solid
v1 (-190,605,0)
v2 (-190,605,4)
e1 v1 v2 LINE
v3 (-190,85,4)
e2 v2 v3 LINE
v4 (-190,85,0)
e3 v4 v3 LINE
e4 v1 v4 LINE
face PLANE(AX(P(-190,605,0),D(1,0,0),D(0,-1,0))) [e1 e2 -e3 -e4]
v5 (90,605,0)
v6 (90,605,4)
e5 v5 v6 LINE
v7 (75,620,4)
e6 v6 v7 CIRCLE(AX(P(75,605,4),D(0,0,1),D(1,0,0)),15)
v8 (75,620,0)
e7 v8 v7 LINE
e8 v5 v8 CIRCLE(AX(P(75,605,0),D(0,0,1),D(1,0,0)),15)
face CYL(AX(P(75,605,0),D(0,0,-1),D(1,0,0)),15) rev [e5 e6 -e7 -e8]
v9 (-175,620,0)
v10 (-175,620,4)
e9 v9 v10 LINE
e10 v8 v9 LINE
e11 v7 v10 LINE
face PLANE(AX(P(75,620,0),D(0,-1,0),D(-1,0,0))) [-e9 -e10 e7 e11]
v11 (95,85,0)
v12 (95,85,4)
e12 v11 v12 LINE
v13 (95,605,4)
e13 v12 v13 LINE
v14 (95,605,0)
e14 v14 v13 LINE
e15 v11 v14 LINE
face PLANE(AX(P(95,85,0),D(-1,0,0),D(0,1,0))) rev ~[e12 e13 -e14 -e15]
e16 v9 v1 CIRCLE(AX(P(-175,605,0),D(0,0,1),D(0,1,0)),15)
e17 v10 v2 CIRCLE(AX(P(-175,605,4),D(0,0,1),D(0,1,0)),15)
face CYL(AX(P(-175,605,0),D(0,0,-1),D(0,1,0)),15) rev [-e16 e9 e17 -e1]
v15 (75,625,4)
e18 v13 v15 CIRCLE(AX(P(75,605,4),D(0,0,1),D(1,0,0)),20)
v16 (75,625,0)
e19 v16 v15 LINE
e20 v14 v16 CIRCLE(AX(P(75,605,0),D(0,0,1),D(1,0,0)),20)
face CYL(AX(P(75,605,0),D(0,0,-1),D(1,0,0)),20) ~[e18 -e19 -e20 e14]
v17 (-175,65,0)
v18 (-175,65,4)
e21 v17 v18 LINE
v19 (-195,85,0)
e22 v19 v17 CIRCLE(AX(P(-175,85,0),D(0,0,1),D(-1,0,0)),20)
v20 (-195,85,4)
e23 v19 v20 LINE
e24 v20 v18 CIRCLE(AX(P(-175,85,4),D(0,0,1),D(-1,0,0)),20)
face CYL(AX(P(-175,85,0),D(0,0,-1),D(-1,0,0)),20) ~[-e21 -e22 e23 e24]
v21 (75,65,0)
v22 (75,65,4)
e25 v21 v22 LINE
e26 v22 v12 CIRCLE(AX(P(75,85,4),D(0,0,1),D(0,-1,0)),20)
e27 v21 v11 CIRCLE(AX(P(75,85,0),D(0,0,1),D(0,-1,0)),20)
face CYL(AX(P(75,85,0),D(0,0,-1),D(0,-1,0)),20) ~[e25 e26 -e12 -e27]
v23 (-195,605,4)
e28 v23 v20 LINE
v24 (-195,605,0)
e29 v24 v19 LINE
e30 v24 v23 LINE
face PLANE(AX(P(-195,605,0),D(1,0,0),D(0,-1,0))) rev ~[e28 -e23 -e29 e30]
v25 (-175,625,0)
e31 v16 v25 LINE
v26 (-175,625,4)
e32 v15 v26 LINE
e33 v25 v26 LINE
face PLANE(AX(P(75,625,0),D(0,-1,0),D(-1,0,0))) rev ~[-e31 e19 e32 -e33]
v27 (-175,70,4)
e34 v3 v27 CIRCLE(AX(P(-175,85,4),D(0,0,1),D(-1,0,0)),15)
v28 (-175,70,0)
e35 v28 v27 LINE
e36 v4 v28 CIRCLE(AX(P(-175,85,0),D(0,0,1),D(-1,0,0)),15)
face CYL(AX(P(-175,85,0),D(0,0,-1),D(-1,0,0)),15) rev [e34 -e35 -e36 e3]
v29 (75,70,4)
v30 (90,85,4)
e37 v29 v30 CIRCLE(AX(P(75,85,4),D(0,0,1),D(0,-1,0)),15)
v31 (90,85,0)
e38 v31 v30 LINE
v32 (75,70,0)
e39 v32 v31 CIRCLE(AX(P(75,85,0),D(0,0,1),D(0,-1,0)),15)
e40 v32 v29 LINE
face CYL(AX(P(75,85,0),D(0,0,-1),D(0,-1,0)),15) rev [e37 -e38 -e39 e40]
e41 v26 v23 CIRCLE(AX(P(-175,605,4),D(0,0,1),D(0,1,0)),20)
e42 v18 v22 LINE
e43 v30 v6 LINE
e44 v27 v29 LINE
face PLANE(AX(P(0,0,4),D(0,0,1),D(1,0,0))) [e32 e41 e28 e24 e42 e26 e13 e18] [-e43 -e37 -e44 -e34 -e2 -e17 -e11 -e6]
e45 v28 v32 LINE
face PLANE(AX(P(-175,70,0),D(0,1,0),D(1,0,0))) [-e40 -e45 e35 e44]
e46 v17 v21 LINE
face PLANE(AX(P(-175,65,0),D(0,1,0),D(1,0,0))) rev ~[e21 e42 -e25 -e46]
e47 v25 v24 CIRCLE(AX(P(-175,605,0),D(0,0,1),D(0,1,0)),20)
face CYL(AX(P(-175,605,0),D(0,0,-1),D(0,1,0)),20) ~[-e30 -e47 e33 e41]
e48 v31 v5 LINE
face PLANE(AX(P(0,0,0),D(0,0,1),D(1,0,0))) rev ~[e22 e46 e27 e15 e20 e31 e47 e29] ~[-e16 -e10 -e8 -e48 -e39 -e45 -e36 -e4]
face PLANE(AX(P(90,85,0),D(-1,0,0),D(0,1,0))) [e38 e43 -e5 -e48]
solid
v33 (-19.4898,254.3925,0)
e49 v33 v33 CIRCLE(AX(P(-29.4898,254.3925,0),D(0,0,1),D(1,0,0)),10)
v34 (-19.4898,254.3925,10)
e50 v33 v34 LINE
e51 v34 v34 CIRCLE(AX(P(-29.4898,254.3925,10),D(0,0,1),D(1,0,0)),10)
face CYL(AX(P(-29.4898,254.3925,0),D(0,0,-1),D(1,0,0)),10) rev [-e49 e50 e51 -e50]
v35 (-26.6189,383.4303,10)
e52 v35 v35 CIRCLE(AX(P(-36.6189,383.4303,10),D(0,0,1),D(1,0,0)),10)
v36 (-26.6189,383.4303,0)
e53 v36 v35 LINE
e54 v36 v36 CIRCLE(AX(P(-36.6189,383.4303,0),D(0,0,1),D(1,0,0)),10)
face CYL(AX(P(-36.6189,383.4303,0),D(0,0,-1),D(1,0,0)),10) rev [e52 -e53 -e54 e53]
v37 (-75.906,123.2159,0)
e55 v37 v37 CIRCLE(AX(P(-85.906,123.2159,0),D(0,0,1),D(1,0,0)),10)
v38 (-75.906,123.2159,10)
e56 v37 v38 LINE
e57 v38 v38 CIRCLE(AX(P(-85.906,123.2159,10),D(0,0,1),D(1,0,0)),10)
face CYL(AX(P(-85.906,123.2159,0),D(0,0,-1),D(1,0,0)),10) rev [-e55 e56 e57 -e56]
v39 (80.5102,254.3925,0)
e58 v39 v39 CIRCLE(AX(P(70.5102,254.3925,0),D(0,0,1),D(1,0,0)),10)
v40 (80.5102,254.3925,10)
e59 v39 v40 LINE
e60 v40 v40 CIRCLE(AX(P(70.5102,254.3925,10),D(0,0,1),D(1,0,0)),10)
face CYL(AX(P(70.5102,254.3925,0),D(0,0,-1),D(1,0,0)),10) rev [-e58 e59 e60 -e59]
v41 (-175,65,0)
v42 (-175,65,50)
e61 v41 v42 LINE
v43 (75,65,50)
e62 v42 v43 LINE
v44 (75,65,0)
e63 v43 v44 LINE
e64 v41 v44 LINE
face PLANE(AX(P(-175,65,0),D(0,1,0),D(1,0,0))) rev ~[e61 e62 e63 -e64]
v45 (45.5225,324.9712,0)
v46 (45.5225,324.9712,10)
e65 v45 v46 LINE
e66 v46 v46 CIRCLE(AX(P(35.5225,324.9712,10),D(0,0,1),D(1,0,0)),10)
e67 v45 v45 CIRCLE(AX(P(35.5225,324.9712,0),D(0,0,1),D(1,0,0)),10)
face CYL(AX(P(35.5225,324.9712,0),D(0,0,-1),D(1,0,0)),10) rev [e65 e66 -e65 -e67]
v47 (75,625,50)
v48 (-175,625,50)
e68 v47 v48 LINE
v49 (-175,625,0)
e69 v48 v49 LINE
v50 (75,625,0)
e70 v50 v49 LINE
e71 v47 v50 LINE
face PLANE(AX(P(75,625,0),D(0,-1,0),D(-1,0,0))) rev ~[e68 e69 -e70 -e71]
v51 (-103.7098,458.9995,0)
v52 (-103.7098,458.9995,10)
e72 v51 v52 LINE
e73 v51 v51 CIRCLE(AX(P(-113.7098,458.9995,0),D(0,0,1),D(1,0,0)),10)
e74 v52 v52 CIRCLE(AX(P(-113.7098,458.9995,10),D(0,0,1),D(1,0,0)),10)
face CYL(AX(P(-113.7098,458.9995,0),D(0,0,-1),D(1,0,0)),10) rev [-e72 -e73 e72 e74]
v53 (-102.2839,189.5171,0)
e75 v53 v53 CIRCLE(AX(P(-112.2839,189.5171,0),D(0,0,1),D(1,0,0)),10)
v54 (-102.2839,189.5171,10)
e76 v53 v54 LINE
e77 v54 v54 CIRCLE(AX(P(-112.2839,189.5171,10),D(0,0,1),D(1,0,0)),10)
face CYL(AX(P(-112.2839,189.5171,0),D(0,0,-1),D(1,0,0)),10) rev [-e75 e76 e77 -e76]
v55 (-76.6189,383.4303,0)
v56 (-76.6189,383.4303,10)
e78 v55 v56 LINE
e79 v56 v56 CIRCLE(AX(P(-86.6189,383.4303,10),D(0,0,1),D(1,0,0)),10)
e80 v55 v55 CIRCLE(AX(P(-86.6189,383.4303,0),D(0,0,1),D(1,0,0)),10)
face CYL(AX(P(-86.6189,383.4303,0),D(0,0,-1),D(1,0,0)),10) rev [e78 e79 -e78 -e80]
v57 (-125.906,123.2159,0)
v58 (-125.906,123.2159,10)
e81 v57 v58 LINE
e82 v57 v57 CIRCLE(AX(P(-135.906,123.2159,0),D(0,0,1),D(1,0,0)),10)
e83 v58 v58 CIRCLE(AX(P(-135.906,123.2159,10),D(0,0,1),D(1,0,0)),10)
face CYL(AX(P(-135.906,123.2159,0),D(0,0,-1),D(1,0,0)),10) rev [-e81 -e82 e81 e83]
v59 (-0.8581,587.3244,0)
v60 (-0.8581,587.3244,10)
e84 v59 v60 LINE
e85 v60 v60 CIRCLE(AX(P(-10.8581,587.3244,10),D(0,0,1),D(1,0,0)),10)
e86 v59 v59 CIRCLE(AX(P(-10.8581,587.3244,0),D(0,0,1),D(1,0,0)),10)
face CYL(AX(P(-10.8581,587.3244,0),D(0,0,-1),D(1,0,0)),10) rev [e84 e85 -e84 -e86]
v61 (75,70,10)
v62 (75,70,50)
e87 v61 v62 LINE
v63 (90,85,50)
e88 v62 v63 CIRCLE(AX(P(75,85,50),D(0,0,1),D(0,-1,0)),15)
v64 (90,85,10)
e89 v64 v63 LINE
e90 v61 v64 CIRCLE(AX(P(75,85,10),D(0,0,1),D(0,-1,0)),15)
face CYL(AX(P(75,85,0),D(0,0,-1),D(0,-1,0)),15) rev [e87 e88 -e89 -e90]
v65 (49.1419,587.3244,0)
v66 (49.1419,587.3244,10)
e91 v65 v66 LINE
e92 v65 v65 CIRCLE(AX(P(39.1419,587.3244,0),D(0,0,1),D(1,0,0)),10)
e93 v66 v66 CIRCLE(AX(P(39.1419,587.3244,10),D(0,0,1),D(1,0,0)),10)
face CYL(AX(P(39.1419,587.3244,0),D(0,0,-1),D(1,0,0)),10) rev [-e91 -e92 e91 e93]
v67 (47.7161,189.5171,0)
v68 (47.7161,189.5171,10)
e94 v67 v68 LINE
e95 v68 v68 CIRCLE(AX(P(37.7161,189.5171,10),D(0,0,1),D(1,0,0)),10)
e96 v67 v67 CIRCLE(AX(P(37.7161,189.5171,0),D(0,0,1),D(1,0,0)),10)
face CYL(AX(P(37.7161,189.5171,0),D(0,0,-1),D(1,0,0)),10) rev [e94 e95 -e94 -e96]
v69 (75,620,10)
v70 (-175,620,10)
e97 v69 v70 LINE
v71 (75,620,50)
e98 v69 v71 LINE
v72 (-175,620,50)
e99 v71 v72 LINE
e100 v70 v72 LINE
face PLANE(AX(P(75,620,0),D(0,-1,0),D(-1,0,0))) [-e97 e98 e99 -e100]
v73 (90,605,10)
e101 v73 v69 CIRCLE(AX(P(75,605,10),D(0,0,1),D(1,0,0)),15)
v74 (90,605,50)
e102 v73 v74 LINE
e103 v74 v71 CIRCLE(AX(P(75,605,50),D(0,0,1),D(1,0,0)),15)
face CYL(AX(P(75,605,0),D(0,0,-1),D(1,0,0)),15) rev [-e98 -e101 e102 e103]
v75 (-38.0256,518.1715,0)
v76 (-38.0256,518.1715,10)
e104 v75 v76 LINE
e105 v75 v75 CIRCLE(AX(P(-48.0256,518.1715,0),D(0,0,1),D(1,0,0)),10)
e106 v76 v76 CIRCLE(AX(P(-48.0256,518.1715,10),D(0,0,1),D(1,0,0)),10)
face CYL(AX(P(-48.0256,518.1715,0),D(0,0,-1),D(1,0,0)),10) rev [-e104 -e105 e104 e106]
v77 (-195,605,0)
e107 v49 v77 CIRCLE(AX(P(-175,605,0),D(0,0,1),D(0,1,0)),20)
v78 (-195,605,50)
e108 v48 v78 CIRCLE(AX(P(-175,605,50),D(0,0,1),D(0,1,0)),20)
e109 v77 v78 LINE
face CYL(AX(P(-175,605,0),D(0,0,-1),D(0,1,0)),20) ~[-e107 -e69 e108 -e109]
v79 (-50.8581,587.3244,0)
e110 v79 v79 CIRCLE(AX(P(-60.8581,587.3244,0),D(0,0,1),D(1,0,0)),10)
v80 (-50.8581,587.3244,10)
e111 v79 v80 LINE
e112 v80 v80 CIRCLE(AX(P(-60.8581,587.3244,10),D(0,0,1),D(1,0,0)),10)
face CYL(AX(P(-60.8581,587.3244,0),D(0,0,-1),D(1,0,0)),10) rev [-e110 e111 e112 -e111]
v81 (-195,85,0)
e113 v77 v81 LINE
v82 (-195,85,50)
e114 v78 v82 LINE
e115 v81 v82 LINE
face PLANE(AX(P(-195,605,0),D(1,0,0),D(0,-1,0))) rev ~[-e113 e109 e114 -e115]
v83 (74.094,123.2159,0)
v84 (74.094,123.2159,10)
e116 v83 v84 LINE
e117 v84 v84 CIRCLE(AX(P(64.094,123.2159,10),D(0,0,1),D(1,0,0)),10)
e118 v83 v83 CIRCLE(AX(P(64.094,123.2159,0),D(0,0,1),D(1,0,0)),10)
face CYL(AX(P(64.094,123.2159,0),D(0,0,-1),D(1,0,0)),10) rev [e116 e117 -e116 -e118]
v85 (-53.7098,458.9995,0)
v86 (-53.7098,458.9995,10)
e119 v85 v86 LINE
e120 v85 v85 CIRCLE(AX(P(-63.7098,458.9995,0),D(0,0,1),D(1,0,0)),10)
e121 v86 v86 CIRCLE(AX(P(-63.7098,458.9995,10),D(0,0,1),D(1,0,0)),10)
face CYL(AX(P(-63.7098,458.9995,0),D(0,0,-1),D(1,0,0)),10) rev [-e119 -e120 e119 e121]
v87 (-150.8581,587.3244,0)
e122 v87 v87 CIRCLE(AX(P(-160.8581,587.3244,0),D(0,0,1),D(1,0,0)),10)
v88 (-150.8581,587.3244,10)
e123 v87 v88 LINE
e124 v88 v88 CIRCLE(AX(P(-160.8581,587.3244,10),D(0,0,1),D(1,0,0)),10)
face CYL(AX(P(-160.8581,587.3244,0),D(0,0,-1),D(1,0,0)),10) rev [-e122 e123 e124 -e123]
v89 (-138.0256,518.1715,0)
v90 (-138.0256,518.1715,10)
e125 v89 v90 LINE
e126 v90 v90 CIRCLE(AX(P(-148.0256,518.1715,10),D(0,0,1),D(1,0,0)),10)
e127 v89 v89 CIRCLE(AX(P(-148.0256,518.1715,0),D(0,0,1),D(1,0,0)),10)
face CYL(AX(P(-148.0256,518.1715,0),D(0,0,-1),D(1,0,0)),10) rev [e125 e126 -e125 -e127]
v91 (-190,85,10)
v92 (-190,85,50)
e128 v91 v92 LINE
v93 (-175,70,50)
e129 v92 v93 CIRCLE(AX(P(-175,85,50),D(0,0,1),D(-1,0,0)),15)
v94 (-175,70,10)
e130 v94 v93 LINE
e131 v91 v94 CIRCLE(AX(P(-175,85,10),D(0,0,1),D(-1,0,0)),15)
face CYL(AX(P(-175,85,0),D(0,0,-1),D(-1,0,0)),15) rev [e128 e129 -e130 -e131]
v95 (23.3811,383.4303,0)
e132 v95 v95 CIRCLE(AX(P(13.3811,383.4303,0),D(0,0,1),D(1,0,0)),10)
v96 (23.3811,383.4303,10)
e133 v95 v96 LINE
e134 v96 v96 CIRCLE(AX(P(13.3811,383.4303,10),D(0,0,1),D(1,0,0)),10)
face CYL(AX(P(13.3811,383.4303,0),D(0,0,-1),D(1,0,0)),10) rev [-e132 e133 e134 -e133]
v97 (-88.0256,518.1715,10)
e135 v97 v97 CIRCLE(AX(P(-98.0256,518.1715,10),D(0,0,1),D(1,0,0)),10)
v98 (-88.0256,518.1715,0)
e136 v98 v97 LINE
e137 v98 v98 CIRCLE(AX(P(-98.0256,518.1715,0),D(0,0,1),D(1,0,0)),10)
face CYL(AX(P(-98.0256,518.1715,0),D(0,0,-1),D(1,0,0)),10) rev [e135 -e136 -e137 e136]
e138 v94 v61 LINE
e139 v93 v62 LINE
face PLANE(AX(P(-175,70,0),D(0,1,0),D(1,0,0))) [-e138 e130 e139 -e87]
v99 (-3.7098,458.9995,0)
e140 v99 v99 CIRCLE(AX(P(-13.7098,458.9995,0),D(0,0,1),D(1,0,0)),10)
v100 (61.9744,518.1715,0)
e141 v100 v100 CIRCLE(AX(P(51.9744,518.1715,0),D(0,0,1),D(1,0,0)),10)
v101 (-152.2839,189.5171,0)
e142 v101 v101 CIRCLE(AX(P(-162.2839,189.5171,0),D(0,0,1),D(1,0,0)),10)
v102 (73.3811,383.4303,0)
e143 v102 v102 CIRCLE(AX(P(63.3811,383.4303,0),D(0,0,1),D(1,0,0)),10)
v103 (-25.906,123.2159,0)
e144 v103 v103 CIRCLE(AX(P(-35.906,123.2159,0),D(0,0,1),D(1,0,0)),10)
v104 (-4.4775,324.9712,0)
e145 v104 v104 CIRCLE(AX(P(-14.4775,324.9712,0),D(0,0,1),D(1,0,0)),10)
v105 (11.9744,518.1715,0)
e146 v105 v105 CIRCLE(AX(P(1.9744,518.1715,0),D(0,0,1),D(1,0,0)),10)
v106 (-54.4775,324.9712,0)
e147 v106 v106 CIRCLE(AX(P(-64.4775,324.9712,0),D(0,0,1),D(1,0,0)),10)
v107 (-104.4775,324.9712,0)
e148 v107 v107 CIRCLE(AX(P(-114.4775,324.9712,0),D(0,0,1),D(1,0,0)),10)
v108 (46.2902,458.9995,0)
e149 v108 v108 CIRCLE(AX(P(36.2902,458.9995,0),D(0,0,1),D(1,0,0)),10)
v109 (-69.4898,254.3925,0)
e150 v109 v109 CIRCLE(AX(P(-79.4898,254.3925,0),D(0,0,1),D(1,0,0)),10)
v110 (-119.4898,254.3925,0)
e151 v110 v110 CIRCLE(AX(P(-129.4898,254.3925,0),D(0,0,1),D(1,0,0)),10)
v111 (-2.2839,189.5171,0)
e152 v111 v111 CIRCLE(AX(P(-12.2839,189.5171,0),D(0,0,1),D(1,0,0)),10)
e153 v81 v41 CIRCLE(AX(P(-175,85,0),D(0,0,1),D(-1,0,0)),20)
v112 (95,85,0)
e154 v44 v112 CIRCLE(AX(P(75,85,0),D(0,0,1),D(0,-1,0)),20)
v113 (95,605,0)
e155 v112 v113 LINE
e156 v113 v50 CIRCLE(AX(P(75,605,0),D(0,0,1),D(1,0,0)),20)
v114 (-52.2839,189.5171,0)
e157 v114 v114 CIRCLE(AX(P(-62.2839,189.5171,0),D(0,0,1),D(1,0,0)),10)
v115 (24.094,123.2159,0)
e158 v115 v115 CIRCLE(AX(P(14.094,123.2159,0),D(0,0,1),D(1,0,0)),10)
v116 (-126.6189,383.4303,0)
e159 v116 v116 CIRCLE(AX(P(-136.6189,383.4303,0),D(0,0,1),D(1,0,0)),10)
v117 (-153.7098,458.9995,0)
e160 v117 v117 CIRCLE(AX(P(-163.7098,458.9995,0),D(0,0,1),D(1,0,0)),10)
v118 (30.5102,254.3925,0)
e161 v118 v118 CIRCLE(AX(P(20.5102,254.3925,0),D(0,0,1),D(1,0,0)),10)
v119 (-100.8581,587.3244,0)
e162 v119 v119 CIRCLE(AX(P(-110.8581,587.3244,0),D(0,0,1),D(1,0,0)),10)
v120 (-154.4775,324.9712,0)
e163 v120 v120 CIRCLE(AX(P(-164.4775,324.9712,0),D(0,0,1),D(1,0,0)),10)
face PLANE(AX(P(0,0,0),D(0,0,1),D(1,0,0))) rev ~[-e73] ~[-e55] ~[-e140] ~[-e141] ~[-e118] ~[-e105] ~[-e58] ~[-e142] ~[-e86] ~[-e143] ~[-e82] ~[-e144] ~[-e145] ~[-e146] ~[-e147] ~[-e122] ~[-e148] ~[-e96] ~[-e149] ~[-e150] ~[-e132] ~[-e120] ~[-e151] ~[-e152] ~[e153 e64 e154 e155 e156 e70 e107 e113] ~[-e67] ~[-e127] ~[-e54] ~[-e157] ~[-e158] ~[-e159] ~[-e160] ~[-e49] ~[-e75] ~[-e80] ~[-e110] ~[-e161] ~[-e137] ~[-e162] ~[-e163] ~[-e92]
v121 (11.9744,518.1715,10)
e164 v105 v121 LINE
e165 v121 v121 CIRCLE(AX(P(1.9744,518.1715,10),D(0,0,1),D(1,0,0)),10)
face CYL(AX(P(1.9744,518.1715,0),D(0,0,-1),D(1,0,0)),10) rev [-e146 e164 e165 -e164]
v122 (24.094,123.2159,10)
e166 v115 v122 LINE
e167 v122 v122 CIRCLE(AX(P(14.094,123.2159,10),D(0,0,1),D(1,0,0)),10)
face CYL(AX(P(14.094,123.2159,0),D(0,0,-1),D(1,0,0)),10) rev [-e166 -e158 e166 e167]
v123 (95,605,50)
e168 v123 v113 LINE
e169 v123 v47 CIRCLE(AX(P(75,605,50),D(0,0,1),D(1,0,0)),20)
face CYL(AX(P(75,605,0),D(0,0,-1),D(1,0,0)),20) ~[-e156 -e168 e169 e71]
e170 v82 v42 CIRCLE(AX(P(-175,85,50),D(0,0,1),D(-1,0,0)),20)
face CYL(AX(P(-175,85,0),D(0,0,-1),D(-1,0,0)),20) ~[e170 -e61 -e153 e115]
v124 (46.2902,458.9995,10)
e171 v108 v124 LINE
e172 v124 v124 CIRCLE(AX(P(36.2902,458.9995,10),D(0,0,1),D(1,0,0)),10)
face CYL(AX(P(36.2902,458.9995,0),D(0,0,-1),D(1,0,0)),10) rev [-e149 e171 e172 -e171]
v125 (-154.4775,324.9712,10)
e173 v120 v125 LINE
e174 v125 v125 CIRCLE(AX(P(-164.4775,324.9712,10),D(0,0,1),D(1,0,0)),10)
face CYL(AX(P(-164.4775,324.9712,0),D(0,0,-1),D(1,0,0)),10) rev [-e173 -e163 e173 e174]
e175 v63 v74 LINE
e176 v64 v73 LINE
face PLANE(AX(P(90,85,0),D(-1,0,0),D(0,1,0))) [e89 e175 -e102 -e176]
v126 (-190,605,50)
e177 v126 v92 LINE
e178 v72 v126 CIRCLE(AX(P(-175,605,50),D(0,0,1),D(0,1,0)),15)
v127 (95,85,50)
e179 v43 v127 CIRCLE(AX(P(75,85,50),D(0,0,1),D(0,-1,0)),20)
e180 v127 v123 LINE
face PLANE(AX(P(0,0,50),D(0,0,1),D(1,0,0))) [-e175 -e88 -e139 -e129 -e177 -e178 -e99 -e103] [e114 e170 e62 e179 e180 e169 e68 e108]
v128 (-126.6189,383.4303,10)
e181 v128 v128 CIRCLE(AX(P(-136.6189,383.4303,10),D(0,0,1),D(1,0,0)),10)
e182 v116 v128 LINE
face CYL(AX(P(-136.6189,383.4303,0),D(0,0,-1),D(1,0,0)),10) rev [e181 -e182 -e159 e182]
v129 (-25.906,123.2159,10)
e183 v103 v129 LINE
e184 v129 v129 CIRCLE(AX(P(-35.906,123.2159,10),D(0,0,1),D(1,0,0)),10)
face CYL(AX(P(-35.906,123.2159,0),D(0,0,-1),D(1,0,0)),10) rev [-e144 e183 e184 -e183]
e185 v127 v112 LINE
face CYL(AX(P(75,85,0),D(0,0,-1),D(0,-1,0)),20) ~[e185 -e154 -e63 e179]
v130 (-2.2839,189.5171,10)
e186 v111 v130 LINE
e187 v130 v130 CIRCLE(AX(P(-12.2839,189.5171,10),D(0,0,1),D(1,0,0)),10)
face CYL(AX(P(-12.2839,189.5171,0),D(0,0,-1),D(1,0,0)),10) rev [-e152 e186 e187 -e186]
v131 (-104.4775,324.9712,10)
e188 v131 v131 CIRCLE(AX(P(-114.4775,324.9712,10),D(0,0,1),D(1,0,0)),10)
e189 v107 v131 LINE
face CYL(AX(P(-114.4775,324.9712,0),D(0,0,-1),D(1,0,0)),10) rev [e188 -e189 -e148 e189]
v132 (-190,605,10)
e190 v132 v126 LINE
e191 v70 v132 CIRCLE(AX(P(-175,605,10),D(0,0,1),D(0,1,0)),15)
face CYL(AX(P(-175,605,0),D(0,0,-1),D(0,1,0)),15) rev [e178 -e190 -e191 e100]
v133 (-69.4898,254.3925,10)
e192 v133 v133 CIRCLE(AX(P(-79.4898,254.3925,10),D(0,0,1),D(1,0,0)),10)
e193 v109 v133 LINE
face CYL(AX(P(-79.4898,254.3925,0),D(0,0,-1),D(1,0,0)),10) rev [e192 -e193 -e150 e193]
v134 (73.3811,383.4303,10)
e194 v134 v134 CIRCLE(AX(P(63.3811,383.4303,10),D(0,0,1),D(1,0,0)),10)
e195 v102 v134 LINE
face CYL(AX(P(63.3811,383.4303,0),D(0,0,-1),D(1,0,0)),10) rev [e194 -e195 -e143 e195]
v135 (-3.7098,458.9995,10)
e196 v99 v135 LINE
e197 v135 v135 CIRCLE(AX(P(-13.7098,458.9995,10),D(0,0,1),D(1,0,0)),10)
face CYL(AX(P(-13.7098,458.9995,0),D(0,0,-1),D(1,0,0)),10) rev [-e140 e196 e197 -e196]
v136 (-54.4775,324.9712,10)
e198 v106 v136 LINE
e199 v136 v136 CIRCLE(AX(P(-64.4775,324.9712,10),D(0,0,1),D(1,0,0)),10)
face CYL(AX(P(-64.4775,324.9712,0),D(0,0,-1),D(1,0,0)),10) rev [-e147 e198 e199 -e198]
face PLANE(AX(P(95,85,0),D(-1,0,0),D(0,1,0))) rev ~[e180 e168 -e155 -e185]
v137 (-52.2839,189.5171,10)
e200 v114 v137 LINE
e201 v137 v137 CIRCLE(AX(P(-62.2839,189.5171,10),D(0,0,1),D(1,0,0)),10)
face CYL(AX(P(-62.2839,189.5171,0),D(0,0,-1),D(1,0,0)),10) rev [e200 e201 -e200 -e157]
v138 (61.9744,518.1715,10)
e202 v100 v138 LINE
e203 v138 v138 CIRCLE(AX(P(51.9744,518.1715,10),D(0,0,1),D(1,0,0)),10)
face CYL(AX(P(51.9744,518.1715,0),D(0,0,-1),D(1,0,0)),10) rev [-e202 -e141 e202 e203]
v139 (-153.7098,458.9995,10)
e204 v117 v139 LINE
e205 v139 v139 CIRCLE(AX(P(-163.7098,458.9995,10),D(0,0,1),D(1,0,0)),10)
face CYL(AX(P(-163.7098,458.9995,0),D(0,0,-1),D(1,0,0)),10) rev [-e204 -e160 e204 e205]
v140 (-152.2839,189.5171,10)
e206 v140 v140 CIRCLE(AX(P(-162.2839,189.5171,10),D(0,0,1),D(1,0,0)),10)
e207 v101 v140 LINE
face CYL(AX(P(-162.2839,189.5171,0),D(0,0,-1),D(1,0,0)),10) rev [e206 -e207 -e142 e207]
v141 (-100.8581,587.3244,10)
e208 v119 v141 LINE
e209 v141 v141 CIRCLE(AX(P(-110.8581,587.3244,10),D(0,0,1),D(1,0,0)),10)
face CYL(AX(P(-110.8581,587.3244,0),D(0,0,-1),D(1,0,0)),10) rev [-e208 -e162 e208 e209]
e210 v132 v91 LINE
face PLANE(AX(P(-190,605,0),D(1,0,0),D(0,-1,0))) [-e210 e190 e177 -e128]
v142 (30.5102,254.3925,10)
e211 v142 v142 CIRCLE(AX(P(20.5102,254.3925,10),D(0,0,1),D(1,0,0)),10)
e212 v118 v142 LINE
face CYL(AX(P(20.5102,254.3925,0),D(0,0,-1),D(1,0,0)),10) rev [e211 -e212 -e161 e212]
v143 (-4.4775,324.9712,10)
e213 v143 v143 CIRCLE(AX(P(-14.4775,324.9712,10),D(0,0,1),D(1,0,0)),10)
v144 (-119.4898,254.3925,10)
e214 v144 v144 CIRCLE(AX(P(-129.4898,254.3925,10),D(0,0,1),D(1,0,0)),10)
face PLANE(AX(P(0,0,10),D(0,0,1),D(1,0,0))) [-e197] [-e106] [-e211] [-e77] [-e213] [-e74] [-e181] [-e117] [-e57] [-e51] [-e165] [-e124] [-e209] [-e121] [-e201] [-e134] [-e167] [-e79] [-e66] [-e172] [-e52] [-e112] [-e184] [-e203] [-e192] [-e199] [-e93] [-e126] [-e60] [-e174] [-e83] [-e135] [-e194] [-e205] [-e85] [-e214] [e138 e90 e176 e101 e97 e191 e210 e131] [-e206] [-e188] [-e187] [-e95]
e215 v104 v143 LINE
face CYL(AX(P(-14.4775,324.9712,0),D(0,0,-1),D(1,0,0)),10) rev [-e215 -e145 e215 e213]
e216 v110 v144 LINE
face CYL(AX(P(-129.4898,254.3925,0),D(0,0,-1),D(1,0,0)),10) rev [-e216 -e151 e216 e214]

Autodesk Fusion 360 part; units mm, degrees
sketch "Sketch1" plane through (0, 0, 0) normal (0, 0, 1) x (1, 0, 0)
  line L0 (-175, 70) -> (75, 70)
  line L1 (90, 85) -> (90, 605)
  line L2 (75, 620) -> (-175, 620)
  line L3 (-190, 605) -> (-190, 85)
  arc A0 (90, 605) -> (75, 620) centre (75, 605) ccw
  arc A1 (-175, 620) -> (-190, 605) centre (-175, 605) ccw
  arc A2 (-190, 85) -> (-175, 70) centre (-175, 85) ccw
  arc A3 (75, 70) -> (90, 85) centre (75, 85) ccw
  line L4 (-195, 605) -> (-195, 85)
  arc A4 (-195, 85) -> (-175, 65) centre (-175, 85) ccw
  line L5 (-175, 65) -> (75, 65)
  arc A5 (75, 65) -> (95, 85) centre (75, 85) ccw
  line L6 (95, 85) -> (95, 605)
  arc A6 (95, 605) -> (75, 625) centre (75, 605) ccw
  line L7 (75, 625) -> (-175, 625)
  arc A7 (-175, 625) -> (-195, 605) centre (-175, 605) ccw
  circle A8 centre (-160.8581, 587.3244) radius 10
  circle A9 centre (-110.8581, 587.3244) radius 10
  circle A10 centre (-60.8581, 587.3244) radius 10
  circle A11 centre (-10.8581, 587.3244) radius 10
  circle A12 centre (39.1419, 587.3244) radius 10
  circle A13 centre (-148.0256, 518.1715) radius 10
  circle A14 centre (-98.0256, 518.1715) radius 10
  circle A15 centre (-48.0256, 518.1715) radius 10
  circle A16 centre (1.9744, 518.1715) radius 10
  circle A17 centre (51.9744, 518.1715) radius 10
  circle A18 centre (-148.0256, 518.1715) radius 10
  circle A19 centre (-98.0256, 518.1715) radius 10
  circle A20 centre (-48.0256, 518.1715) radius 10
  circle A21 centre (1.9744, 518.1715) radius 10
  circle A22 centre (-148.0256, 518.1715) radius 10
  circle A23 centre (-98.0256, 518.1715) radius 10
  circle A24 centre (-48.0256, 518.1715) radius 10
  circle A25 centre (1.9744, 518.1715) radius 10
  circle A26 centre (51.9744, 518.1715) radius 10
  circle A27 centre (-163.7098, 458.9995) radius 10
  circle A28 centre (-113.7098, 458.9995) radius 10
  circle A29 centre (-63.7098, 458.9995) radius 10
  circle A30 centre (-13.7098, 458.9995) radius 10
  circle A31 centre (36.2902, 458.9995) radius 10
  circle A32 centre (-136.6189, 383.4303) radius 10
  circle A33 centre (-86.6189, 383.4303) radius 10
  circle A34 centre (-36.6189, 383.4303) radius 10
  circle A35 centre (13.3811, 383.4303) radius 10
  circle A36 centre (63.3811, 383.4303) radius 10
  circle A37 centre (-164.4775, 324.9712) radius 10
  circle A38 centre (-114.4775, 324.9712) radius 10
  circle A39 centre (-64.4775, 324.9712) radius 10
  circle A40 centre (-14.4775, 324.9712) radius 10
  circle A41 centre (35.5225, 324.9712) radius 10
  circle A42 centre (-129.4898, 254.3925) radius 10
  circle A43 centre (-79.4898, 254.3925) radius 10
  circle A44 centre (-29.4898, 254.3925) radius 10
  circle A45 centre (20.5102, 254.3925) radius 10
  circle A46 centre (70.5102, 254.3925) radius 10
  circle A47 centre (-162.2839, 189.5171) radius 10
  circle A48 centre (-112.2839, 189.5171) radius 10
  circle A49 centre (-62.2839, 189.5171) radius 10
  circle A50 centre (-12.2839, 189.5171) radius 10
  circle A51 centre (37.7161, 189.5171) radius 10
  circle A52 centre (-135.906, 123.2159) radius 10
  circle A53 centre (-85.906, 123.2159) radius 10
  circle A54 centre (-35.906, 123.2159) radius 10
  circle A55 centre (14.094, 123.2159) radius 10
  circle A56 centre (64.094, 123.2159) radius 10
  point P0 (-190, 70)
  point P1 (-190, 620)
  point P2 (51.9744, 518.1715)
  point P3 (51.9744, 518.1715)
  point P4 (-148.0256, 518.1715)
  point P5 (1.9744, 518.1715)
  point P6 (-98.0256, 518.1715)
  point P7 (-48.0256, 518.1715)
  dimension "d1" = 550
  dimension "d2" = 280
  dimension "d3" = 15
  dimension "d4" = 5
  dimension "d5" = 20
  dimension "d6" = 20
  dimension "d7" = 20
  dimension "d8" = 20
  dimension "d9" = 20
  dimension "d10" = 20
  dimension "d11" = 20
  dimension "d12" = 20
  dimension "d13" = 20
  dimension "d14" = 20
  dimension "d15" = 20
  dimension "d16" = 20
  dimension "d17" = 20
  dimension "d18" = 20
  dimension "d19" = 20
  dimension "d20" = 20
  dimension "d21" = 20
  dimension "d22" = 20
  dimension "d23" = 20
  dimension "d24" = 20
  dimension "d25" = 20
  dimension "d26" = 20
  dimension "d27" = 20
  dimension "d28" = 20
  dimension "d29" = 20
  dimension "d30" = 20
  dimension "d31" = 20
  dimension "d32" = 20
  dimension "d33" = 20
  dimension "d34" = 20
  dimension "d35" = 20
  dimension "d36" = 20
  dimension "d37" = 20
  dimension "d38" = 20
  dimension "d39" = 20
  dimension "d40" = 20
  dimension "d41" = 20
  dimension "d42" = 20
  dimension "d43" = 20
  dimension "d44" = 20
  dimension "d45" = 20
  dimension "d46" = 20
  dimension "d47" = 20
  dimension "d48" = 20
  dimension "d49" = 20
  dimension "d50" = 20
  dimension "d51" = 20
  dimension "d52" = 20
  dimension "d53" = 20
extrude "Extrude1" add sketch "Sketch1" along normal blind 4 contours L4 A4 L5 A5 L6 A6 L7 A7 makes body 1
extrude "Extrude2" add sketch "Sketch1" along normal blind 50 separate body contours L4 A4 L5 A5 L6 A6 L7 A7 makes body 2
extrude "Extrude3" add sketch "Sketch1" along normal blind 10 contours L0 L1 L2 L3 A0 A1 A2 A3 bodies 1 2
extrude "Extrude4" add sketch "Sketch1" along normal blind 4 separate body contours L4 A4 L5 A5 L6 A6 L7 A7 makes body 3
